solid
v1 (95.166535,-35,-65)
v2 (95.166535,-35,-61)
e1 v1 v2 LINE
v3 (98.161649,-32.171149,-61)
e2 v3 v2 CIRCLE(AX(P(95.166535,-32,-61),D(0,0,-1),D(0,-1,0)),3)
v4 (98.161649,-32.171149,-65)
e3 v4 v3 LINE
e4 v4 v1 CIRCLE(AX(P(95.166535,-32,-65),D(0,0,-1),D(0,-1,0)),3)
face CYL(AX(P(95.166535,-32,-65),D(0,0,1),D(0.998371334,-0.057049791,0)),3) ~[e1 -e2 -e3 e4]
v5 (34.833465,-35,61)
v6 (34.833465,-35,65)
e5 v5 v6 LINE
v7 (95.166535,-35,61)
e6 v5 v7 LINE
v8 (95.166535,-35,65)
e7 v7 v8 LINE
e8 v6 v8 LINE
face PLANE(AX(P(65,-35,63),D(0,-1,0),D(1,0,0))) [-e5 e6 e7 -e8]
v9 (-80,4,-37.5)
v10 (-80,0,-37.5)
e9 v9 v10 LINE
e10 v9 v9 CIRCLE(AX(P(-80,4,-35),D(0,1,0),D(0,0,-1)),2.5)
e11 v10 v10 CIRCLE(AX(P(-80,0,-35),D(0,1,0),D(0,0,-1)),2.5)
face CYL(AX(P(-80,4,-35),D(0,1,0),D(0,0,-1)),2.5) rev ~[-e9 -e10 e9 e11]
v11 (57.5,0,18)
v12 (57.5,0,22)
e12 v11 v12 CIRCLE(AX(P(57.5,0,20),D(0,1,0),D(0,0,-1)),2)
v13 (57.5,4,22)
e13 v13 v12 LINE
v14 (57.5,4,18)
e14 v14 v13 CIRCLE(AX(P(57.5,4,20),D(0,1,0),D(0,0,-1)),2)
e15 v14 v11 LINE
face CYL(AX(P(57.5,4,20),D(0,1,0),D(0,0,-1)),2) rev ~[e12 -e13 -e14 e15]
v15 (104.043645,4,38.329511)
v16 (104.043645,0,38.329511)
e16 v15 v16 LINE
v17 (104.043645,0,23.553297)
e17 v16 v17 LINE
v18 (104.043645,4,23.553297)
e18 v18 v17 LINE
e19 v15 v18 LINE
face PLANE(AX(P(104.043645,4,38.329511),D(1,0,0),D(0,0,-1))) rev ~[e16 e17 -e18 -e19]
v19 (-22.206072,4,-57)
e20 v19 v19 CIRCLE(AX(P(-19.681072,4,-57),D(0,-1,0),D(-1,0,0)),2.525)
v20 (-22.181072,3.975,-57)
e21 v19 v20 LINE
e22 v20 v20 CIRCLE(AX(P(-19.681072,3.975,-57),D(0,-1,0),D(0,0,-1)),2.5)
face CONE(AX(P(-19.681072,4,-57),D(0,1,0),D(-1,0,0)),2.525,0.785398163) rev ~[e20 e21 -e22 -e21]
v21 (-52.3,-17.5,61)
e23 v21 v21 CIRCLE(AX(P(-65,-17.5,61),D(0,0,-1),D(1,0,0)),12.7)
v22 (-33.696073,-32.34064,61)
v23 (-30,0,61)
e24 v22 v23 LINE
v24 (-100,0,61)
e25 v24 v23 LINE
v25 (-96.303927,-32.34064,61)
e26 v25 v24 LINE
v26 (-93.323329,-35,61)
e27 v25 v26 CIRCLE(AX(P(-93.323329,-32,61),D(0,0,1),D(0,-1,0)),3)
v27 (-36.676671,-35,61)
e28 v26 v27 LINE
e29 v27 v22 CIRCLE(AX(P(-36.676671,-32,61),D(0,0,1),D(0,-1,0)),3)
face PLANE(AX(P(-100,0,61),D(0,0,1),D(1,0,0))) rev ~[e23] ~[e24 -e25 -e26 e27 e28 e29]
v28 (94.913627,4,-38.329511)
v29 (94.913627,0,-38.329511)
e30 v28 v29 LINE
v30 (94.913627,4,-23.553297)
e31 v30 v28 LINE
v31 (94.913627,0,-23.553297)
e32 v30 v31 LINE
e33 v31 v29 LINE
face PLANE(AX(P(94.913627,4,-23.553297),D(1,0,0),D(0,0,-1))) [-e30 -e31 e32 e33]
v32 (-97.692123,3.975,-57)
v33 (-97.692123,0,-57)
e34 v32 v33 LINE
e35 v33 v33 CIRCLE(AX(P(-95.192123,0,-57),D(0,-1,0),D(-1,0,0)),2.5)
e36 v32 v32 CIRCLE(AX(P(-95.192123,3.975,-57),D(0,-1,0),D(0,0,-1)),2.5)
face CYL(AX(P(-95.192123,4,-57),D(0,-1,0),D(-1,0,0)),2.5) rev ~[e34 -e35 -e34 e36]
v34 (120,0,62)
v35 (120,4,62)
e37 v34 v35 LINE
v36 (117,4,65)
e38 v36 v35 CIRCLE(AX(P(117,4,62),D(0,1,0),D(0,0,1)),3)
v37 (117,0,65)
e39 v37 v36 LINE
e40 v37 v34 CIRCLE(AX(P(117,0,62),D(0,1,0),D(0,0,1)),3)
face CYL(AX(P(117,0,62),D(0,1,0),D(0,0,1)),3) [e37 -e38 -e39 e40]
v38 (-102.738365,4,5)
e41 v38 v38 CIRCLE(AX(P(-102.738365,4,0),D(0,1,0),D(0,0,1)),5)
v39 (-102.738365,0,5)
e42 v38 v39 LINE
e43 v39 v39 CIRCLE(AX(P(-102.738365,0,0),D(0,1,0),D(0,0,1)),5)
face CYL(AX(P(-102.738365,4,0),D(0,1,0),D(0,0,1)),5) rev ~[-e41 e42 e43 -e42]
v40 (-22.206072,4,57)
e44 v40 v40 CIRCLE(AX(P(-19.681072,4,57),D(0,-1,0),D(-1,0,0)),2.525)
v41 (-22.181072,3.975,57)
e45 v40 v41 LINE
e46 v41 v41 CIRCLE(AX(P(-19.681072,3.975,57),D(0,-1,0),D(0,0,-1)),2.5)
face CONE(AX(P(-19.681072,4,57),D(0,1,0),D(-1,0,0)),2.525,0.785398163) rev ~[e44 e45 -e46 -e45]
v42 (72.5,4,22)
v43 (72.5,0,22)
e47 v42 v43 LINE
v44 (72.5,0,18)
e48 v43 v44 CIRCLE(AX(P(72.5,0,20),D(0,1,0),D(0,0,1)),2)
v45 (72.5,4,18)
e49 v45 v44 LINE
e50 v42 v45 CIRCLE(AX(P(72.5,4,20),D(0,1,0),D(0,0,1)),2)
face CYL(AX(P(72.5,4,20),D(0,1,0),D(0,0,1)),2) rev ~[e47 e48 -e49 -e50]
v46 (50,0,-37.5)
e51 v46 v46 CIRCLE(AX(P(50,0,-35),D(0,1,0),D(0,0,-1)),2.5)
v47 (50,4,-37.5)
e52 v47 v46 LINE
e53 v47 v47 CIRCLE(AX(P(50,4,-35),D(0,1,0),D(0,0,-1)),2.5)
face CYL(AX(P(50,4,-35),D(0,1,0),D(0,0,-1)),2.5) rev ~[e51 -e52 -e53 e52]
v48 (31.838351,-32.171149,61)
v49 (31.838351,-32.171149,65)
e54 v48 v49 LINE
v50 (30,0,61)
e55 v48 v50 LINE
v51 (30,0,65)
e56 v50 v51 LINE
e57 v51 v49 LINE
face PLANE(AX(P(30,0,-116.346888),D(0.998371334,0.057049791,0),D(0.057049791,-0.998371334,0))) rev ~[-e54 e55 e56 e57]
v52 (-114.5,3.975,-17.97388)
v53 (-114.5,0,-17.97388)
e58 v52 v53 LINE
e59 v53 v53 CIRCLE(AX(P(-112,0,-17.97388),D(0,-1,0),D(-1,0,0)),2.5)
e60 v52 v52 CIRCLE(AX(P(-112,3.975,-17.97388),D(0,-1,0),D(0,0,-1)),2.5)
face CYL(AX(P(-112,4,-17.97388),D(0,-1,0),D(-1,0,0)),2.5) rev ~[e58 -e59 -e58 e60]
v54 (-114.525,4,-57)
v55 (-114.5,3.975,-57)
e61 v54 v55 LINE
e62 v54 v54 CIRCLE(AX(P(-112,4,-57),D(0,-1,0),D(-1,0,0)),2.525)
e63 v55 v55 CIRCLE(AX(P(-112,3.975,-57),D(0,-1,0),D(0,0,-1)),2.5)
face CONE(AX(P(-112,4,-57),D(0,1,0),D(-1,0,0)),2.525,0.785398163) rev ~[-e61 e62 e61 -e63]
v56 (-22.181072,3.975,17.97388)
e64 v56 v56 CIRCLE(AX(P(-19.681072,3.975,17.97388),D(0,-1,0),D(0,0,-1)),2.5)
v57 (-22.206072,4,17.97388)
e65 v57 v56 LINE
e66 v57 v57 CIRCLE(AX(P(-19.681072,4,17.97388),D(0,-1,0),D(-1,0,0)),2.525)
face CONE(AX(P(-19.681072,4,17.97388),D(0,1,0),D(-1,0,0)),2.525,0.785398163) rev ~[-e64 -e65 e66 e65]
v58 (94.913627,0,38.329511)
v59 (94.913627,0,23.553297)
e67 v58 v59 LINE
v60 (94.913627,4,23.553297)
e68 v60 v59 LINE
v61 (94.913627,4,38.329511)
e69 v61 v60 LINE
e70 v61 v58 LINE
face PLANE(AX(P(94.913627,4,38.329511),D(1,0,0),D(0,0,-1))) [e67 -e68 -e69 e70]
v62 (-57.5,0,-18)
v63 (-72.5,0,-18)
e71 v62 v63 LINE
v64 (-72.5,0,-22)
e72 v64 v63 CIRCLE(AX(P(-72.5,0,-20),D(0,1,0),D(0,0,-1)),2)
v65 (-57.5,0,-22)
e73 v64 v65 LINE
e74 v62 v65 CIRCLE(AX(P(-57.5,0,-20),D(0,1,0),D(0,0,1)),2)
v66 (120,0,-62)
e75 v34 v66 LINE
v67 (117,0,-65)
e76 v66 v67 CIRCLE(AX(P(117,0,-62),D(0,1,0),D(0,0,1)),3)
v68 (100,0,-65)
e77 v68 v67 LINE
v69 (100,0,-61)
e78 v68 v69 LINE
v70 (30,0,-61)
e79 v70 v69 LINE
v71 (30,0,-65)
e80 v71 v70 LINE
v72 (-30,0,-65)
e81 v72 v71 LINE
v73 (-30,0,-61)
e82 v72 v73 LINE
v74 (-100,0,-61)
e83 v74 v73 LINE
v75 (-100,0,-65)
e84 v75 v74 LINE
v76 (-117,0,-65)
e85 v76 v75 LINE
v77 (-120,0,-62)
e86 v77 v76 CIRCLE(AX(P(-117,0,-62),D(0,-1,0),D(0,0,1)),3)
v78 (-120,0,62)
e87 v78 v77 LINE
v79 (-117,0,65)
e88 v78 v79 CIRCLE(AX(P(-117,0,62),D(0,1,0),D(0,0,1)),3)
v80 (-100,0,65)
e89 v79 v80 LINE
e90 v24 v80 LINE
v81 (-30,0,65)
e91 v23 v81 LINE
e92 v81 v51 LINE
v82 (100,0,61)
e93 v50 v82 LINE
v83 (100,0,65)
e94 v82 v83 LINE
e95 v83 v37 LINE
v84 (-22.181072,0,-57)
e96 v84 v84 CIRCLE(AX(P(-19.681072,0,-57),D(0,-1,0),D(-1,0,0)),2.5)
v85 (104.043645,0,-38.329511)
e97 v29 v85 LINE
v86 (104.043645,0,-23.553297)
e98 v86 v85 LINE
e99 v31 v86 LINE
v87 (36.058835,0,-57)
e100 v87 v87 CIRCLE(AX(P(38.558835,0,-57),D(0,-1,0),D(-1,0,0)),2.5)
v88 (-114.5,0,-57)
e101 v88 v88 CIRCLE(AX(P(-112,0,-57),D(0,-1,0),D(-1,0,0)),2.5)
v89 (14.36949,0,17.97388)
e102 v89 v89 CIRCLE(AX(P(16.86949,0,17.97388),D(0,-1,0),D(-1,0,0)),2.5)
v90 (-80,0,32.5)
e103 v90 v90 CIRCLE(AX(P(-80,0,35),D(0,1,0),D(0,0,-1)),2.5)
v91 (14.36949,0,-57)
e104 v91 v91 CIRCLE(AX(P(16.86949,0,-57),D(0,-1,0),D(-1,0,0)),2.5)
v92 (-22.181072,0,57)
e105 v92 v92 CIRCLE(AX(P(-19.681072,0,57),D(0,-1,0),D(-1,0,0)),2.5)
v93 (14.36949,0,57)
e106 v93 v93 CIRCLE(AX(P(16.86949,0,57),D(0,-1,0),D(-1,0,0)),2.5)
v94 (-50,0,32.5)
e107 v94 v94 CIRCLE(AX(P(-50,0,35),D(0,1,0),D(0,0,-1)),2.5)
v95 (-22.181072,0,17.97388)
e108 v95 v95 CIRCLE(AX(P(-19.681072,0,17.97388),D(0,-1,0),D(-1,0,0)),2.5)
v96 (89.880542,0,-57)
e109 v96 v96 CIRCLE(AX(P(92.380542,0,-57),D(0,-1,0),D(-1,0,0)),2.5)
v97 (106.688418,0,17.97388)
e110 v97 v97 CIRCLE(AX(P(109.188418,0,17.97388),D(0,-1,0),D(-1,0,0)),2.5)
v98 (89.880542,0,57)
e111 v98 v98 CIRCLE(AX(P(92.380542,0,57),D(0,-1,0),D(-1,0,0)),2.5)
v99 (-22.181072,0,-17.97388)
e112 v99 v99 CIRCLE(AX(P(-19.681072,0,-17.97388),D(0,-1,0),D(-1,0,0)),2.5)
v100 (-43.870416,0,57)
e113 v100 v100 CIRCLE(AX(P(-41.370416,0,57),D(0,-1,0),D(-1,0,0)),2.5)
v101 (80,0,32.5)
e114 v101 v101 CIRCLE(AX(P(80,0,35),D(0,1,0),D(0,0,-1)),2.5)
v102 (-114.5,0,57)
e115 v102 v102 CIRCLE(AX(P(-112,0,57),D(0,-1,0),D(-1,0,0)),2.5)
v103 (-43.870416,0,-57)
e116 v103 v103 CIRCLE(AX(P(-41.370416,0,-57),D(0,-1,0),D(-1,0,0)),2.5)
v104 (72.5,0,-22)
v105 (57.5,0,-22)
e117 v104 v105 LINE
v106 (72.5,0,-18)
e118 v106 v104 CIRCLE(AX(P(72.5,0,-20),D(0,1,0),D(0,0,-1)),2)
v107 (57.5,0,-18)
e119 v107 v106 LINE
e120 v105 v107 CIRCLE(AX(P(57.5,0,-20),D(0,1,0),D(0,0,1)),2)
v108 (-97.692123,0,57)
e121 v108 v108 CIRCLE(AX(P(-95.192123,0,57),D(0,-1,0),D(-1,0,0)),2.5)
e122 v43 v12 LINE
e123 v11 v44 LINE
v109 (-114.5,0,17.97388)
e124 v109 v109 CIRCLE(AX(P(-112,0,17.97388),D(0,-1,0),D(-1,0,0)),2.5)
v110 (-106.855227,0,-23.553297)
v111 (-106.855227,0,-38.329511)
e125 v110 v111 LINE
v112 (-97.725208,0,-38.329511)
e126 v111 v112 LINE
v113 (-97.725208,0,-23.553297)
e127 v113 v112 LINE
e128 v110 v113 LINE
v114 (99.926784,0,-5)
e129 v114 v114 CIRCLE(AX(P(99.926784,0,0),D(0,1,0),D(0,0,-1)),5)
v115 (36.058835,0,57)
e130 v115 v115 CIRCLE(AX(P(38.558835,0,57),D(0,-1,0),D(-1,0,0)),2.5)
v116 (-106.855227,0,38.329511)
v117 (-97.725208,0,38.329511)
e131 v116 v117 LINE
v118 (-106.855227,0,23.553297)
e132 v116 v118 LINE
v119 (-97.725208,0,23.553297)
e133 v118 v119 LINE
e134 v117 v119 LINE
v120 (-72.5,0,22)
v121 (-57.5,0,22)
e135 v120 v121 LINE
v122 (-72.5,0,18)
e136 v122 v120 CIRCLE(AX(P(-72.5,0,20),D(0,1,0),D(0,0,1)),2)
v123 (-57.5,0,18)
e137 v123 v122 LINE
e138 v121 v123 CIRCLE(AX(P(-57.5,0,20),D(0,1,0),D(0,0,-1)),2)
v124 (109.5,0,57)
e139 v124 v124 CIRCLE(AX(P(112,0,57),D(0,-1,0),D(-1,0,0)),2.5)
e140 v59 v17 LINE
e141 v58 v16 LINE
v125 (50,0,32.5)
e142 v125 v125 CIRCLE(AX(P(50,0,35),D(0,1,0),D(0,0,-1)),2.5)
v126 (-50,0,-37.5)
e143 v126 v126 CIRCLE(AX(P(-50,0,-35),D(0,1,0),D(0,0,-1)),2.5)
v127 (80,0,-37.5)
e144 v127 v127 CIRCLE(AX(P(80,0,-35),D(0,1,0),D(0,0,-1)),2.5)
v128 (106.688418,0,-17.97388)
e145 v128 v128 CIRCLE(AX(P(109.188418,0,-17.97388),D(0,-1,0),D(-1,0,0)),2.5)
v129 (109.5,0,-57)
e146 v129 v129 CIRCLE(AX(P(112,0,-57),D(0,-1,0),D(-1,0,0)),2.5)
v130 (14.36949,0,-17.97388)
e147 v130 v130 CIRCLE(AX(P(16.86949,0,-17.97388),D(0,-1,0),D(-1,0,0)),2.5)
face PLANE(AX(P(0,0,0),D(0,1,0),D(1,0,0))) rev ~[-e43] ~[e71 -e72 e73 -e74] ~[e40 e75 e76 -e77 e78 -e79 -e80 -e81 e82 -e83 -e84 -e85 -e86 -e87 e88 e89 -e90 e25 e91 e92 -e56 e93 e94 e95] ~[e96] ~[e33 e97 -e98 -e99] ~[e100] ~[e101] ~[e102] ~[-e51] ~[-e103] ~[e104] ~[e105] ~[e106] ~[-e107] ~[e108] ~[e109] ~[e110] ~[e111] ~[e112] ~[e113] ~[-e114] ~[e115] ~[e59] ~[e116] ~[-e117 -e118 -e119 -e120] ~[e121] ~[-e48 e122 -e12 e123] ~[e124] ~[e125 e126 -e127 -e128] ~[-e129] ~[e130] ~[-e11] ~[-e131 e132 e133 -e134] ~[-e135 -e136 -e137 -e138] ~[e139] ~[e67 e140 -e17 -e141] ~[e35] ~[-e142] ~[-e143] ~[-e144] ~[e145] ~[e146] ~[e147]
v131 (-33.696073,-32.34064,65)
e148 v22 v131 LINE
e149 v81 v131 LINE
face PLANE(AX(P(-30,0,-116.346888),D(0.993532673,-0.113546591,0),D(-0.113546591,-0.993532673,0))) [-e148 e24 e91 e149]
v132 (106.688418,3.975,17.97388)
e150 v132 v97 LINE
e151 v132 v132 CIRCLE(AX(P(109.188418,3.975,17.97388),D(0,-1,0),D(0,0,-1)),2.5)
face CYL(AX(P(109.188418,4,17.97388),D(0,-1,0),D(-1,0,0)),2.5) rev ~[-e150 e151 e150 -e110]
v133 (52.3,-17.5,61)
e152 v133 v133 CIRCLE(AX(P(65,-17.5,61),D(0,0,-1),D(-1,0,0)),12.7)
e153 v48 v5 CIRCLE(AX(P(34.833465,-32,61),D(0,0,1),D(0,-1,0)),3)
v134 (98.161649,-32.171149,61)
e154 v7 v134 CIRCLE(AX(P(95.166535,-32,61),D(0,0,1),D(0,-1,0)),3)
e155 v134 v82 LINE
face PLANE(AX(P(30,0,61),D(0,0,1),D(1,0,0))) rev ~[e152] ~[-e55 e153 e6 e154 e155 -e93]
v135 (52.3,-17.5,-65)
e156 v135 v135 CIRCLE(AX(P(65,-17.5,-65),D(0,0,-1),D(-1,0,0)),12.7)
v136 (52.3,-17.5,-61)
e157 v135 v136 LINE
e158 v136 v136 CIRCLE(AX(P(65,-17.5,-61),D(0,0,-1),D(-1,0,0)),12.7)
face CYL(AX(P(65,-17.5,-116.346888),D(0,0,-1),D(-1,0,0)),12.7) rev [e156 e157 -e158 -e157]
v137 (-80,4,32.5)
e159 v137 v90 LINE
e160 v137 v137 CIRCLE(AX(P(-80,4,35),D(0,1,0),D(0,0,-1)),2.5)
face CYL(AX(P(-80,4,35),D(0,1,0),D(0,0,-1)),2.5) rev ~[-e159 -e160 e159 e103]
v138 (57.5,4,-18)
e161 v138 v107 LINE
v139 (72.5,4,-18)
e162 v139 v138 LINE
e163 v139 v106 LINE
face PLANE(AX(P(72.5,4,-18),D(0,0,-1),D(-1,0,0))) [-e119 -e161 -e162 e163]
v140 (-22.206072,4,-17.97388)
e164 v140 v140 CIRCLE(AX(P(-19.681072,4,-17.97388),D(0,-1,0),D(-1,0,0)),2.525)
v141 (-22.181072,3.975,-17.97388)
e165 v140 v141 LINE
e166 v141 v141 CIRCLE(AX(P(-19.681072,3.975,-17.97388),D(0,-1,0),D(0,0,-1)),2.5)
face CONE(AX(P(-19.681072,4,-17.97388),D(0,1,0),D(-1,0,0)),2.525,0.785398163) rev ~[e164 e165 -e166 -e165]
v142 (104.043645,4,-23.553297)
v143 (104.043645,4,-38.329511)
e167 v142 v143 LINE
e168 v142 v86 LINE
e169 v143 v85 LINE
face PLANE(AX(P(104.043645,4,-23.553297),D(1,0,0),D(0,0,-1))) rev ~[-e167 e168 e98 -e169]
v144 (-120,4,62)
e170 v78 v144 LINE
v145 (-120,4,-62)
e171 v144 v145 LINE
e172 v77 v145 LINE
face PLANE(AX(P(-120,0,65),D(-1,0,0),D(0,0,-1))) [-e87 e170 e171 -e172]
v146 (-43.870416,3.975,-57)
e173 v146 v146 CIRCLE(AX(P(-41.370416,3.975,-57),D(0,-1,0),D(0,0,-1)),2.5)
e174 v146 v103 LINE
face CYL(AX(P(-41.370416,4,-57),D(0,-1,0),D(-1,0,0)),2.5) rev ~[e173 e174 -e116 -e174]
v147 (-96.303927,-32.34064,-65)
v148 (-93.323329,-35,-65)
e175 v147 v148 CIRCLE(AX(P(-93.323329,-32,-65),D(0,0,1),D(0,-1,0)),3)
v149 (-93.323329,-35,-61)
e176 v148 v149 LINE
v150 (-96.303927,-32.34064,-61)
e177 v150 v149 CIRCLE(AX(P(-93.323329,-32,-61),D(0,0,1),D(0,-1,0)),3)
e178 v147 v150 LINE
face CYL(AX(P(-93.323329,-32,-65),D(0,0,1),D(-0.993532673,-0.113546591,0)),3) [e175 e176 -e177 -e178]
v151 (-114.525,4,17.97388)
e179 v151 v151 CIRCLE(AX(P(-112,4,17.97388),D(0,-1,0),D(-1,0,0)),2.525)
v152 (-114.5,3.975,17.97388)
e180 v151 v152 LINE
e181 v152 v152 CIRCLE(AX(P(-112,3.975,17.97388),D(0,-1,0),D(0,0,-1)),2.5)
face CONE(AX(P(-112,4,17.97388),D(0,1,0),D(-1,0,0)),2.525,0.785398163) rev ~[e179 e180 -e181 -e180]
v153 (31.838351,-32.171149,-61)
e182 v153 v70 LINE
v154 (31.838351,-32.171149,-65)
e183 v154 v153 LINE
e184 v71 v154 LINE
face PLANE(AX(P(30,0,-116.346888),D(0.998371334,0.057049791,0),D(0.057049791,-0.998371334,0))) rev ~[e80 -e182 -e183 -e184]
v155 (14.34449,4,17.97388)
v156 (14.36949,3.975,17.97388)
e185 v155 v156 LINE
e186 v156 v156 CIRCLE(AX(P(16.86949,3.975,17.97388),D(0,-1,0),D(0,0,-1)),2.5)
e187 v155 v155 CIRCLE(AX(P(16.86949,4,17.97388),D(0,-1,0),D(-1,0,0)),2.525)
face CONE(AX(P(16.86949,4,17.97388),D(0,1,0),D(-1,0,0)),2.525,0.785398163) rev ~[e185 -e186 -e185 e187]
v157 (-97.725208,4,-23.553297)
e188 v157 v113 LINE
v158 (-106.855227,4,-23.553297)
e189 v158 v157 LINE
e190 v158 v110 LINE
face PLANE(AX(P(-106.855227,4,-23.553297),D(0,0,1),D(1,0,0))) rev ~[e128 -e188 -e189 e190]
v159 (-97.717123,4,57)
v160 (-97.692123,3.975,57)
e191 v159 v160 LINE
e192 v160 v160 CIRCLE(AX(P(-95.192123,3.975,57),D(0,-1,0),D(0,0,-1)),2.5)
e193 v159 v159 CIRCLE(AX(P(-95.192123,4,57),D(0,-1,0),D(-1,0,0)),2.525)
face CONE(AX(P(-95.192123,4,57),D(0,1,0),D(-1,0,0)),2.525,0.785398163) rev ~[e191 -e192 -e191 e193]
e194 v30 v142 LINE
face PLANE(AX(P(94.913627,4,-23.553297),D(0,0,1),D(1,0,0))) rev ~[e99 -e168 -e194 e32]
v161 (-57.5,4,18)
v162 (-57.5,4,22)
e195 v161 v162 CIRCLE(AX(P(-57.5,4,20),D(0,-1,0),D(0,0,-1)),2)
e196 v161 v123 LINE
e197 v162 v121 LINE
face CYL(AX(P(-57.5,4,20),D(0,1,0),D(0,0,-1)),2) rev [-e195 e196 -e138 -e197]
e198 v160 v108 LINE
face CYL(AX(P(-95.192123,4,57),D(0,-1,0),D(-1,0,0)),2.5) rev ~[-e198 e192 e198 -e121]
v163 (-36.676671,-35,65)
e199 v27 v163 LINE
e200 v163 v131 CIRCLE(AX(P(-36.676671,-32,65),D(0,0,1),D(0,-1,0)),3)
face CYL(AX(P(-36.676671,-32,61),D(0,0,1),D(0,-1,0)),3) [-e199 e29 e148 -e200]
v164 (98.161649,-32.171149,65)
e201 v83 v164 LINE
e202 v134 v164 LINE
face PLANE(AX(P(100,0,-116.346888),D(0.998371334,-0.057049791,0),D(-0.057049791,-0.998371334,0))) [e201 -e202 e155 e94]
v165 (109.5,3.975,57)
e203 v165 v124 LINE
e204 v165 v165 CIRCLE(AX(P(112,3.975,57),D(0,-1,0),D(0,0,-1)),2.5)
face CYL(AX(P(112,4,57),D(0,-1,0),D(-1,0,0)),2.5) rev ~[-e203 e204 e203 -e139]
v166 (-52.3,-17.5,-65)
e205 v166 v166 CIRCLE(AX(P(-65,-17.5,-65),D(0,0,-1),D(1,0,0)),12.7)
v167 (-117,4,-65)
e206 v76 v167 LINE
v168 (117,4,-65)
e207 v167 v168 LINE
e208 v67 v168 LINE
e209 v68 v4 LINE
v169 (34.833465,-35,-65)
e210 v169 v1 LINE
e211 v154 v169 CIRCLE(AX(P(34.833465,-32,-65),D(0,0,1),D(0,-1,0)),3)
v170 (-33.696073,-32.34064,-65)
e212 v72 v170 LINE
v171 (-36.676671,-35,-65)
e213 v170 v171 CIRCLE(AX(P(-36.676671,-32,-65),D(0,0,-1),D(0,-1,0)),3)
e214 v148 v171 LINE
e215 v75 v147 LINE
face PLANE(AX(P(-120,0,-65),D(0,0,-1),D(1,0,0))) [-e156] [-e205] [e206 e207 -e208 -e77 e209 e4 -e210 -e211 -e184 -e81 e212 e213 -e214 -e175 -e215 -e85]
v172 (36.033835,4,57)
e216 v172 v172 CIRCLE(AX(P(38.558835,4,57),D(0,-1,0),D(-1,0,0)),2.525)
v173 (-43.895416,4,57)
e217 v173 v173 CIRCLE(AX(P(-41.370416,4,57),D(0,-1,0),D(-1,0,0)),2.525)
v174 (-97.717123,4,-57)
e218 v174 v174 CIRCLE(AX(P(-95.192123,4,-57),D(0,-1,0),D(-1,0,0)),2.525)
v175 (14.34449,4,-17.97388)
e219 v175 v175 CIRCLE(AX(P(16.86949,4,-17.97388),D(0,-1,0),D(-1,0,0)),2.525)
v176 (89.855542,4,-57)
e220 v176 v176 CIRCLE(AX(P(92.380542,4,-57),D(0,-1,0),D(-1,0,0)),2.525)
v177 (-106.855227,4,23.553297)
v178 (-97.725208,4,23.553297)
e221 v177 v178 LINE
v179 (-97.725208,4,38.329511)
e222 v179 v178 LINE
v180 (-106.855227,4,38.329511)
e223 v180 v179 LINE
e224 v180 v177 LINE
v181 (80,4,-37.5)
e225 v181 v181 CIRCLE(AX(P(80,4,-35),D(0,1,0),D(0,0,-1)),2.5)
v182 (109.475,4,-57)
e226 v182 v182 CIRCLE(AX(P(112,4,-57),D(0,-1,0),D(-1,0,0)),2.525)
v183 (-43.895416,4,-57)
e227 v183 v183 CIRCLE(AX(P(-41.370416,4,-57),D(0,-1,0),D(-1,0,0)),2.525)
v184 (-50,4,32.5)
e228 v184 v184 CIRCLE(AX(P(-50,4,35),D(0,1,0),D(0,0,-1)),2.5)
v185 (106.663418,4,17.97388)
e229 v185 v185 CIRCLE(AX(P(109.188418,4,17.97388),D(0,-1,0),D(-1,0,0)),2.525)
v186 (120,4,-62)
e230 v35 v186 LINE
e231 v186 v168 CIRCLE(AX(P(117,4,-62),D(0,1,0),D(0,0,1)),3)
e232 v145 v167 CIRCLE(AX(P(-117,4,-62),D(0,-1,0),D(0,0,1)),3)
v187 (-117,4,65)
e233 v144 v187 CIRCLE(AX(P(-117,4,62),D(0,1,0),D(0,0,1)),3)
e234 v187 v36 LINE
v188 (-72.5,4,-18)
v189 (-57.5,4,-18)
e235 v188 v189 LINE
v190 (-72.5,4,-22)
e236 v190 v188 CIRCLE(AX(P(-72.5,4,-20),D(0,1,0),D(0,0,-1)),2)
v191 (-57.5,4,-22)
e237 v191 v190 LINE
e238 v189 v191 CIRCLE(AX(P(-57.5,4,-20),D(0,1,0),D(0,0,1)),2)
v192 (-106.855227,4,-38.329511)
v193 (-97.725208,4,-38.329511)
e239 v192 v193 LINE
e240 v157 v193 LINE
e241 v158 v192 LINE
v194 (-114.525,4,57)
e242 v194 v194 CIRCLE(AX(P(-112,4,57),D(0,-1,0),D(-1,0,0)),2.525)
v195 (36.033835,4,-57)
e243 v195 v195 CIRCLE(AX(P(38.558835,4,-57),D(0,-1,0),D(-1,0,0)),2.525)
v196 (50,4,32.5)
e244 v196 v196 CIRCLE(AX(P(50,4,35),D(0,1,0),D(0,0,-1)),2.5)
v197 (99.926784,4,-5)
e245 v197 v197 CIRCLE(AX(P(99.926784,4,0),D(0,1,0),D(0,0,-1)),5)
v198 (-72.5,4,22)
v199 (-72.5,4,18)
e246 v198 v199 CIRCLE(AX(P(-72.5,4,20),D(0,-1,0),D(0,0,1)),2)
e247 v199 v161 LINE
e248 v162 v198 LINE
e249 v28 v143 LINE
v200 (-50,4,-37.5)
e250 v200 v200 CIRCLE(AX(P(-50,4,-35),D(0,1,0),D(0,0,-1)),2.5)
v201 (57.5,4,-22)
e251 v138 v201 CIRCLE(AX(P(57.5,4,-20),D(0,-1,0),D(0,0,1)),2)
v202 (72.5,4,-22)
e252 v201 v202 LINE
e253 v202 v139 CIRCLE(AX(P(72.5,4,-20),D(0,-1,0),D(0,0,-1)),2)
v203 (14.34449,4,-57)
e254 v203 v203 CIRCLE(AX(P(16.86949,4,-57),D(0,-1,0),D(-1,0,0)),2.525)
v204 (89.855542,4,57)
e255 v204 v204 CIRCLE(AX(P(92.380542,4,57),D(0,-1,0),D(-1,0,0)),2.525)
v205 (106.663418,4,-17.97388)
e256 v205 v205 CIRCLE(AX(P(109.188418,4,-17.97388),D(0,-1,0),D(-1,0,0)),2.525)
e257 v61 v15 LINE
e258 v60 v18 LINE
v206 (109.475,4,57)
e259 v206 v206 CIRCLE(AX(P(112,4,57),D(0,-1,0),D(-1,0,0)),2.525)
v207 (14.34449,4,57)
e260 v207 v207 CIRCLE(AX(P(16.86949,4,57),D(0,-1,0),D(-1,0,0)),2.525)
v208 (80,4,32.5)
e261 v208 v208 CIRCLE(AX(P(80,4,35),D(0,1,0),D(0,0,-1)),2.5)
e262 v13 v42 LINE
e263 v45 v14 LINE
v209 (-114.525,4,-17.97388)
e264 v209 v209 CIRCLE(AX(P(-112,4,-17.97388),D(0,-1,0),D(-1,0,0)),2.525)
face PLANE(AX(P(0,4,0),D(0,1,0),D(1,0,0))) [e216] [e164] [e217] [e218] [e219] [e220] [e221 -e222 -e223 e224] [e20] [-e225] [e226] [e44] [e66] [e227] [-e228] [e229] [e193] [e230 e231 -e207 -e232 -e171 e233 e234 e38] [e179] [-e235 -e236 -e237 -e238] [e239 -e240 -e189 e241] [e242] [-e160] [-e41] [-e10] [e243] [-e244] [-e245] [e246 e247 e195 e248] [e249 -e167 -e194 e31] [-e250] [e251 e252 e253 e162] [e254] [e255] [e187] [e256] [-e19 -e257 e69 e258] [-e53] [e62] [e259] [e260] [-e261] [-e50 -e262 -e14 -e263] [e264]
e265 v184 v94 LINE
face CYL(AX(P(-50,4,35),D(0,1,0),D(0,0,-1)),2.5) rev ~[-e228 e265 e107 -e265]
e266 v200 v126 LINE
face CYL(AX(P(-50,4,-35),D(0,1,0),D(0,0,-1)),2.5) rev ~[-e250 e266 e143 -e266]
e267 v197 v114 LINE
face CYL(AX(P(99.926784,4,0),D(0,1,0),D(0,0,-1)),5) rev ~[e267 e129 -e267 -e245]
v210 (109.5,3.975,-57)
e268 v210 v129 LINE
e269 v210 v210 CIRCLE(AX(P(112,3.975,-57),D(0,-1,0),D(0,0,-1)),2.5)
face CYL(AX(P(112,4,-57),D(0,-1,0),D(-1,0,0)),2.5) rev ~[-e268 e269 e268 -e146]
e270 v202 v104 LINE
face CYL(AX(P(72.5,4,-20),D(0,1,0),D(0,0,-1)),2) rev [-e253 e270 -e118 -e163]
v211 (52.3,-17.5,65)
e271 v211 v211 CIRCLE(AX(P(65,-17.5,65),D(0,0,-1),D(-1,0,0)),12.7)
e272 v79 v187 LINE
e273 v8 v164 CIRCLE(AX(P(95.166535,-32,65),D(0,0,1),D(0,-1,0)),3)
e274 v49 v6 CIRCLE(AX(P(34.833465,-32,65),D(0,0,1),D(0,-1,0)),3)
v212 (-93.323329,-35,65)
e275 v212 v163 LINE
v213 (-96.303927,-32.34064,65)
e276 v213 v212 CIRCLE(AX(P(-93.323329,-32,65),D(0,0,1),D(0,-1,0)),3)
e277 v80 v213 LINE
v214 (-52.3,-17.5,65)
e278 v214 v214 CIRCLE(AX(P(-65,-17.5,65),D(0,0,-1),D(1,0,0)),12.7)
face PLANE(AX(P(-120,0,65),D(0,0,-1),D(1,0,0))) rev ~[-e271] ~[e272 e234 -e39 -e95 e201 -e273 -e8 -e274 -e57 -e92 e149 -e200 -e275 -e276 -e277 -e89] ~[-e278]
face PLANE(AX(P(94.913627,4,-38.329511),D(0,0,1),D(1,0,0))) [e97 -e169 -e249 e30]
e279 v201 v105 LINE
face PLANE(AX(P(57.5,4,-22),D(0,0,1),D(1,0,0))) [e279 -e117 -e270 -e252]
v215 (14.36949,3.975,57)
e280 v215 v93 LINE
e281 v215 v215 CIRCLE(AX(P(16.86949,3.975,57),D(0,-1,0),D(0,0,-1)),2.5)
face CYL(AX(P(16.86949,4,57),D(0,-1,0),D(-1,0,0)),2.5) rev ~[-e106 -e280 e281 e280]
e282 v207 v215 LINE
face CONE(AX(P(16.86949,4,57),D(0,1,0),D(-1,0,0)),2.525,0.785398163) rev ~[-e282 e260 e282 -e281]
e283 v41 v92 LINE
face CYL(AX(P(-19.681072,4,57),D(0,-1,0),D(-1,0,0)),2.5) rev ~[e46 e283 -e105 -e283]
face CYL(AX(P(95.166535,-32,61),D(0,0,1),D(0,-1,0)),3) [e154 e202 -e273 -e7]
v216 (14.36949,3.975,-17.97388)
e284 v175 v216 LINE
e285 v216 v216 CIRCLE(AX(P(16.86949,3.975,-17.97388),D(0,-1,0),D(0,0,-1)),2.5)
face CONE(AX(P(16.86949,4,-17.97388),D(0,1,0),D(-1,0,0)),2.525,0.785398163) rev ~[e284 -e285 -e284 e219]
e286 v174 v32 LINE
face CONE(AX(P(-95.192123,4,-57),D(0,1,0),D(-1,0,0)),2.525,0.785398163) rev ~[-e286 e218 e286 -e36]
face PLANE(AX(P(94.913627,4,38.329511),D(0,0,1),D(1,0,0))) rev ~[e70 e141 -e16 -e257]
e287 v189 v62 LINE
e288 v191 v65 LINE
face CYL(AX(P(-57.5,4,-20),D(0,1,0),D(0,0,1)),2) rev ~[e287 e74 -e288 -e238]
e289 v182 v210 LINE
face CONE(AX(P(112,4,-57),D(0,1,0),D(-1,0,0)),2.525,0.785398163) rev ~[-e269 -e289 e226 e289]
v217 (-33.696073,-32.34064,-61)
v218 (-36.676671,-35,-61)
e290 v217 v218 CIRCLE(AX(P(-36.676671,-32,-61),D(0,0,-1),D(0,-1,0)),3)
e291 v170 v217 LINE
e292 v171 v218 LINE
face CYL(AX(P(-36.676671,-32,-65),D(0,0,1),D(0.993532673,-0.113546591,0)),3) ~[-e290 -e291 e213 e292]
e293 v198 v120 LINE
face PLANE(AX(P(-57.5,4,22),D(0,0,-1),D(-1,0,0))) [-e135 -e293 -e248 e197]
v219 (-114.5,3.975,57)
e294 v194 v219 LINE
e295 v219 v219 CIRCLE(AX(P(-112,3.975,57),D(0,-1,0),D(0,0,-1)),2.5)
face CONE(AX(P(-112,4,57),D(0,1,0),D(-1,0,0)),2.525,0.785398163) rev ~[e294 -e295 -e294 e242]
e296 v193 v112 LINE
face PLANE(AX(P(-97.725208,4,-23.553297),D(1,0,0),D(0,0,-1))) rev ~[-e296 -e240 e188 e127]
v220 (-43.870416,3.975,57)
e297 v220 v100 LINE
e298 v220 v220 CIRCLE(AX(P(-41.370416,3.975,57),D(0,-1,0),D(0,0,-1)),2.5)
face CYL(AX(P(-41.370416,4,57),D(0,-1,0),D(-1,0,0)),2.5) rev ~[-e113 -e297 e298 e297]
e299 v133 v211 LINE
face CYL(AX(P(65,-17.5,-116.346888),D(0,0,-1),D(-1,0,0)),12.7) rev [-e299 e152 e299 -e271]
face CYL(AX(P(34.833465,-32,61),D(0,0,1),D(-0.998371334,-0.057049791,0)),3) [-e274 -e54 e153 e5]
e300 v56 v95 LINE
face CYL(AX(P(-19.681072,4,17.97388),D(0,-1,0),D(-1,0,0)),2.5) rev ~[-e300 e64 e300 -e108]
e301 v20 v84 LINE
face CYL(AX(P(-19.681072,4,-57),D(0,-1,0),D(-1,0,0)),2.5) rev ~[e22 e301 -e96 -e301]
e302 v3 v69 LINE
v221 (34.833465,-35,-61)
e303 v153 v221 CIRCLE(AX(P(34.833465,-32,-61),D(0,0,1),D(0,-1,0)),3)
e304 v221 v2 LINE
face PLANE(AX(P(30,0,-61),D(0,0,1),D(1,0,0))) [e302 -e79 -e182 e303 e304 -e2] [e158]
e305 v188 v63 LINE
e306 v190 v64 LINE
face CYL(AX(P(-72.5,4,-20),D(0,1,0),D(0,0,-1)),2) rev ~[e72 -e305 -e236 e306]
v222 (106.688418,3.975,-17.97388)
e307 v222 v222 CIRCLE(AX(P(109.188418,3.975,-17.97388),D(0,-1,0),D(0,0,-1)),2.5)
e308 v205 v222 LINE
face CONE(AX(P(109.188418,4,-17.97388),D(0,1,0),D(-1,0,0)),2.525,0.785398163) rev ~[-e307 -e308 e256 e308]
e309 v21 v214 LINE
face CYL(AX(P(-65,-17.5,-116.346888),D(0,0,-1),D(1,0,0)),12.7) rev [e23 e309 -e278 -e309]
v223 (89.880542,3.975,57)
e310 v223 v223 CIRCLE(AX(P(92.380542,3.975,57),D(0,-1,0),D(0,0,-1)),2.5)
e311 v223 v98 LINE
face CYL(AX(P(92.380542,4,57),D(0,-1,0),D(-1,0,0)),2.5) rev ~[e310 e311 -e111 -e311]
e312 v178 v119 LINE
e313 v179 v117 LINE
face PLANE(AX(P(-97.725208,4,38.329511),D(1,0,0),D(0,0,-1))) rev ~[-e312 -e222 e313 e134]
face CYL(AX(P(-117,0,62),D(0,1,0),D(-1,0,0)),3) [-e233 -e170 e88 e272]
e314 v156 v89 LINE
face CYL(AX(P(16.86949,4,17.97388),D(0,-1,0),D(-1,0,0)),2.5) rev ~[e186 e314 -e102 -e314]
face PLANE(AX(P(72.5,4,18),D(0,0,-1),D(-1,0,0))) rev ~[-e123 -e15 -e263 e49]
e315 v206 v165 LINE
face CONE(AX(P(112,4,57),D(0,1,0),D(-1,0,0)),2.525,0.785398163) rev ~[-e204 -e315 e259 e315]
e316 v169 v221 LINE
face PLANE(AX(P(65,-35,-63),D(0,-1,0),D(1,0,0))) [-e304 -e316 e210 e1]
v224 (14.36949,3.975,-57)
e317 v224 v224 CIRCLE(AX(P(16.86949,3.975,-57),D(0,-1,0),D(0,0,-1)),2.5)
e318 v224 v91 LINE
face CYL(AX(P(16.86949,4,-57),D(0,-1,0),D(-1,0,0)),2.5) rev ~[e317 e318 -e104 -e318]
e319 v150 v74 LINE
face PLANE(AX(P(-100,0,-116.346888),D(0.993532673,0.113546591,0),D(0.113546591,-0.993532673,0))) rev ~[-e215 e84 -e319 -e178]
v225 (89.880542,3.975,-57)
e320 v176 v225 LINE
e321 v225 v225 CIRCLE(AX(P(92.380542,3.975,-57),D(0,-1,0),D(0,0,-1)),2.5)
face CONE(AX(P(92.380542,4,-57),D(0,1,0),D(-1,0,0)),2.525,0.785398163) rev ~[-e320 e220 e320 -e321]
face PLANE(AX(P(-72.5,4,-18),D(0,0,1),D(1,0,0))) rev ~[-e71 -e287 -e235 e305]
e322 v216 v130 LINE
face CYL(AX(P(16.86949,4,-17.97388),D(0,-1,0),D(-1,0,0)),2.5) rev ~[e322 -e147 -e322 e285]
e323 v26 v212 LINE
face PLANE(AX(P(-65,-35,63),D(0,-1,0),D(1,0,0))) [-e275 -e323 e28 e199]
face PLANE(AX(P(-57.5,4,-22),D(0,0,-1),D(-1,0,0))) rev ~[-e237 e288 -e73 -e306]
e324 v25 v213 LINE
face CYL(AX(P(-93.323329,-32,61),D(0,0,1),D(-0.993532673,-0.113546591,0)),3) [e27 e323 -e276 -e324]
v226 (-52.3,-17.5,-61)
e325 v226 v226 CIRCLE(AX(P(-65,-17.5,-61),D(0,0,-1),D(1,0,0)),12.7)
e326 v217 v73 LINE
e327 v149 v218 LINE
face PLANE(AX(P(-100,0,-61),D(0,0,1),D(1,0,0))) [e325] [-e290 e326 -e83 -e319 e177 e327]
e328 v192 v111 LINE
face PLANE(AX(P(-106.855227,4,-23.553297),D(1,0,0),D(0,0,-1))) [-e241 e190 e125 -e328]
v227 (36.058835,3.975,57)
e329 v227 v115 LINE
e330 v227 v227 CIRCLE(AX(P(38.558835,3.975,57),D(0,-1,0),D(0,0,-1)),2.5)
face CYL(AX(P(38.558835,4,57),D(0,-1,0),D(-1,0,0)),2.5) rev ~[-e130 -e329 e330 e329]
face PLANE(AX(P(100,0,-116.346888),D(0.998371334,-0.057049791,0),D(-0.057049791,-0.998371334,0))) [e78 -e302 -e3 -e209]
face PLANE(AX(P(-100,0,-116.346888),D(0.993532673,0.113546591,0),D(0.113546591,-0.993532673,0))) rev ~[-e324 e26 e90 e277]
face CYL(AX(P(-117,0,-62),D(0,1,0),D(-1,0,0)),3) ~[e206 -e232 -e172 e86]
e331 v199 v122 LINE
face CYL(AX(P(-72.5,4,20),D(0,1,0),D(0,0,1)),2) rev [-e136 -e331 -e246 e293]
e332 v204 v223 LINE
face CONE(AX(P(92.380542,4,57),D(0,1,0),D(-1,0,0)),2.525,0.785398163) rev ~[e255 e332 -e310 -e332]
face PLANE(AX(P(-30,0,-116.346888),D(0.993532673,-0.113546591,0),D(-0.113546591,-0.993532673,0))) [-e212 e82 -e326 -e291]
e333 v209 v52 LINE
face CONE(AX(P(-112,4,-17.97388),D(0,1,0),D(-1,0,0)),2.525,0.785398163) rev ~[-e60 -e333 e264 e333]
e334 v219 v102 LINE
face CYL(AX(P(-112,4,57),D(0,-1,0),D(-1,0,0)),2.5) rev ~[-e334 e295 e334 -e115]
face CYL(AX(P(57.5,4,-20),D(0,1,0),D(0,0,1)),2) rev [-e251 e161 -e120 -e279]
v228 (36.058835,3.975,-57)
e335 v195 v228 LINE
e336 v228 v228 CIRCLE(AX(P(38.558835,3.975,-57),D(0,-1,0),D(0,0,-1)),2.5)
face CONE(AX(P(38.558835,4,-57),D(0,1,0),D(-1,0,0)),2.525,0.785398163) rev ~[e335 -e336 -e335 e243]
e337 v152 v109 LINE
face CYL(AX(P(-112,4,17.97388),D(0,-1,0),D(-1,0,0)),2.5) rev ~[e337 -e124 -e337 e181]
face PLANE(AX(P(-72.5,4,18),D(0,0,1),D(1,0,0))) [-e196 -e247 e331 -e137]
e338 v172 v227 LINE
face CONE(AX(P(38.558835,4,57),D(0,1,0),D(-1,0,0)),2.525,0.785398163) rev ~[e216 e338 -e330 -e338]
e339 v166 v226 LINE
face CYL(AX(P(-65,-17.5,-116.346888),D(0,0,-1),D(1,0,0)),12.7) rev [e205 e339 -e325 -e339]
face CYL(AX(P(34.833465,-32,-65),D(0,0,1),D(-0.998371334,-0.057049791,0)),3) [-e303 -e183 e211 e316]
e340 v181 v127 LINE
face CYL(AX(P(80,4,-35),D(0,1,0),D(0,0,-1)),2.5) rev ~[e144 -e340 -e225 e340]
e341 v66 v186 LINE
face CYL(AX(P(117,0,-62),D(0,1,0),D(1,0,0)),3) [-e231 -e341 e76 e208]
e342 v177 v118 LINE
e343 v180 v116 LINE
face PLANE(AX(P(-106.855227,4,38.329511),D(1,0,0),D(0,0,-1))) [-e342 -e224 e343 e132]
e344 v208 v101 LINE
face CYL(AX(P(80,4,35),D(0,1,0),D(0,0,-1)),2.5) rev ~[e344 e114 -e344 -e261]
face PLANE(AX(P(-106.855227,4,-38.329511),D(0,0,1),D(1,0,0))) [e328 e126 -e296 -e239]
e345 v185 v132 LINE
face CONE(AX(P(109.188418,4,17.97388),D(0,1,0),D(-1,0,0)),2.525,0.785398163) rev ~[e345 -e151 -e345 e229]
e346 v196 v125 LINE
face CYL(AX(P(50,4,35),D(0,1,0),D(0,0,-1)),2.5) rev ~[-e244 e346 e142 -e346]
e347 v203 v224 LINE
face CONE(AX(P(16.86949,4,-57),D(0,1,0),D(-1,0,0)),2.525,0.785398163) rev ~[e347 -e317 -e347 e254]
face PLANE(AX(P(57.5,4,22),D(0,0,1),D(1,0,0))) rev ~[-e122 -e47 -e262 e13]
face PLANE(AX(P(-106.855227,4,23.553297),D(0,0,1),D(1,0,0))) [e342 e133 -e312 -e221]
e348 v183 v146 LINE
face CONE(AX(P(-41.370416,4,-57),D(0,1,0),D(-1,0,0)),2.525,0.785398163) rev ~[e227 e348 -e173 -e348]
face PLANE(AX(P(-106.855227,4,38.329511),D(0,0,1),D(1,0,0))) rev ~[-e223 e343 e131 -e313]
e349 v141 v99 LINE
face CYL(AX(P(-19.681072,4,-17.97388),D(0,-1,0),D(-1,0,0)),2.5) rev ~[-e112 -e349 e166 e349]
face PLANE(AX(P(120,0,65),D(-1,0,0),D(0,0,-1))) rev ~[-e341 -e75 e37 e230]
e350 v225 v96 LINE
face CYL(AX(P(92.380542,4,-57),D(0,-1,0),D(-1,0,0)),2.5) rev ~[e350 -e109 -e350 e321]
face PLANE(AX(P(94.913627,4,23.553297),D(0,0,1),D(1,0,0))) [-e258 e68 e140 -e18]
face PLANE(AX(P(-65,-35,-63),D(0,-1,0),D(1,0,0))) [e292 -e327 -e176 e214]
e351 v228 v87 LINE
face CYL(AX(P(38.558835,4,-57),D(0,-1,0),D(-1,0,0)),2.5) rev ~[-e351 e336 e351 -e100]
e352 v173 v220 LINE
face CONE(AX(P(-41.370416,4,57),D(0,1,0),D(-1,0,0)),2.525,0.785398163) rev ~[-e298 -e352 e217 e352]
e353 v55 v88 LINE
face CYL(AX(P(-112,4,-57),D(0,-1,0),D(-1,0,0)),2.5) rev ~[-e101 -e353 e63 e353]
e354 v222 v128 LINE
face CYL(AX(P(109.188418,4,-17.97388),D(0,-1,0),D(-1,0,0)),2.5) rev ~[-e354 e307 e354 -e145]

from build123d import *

# Parameters (mm, degrees)
SKETCH_2_W                      = 240
SKETCH_2_H                      = 130
EXTRUDE_1_DEPTH                 = 4
FILLET_1_R                      = 3
SKETCH_4_W                      = 70
SKETCH_4_H                      = 4
EXTRUDE_3_DEPTH                 = 35
CUT_EXTRUDE_1_DEPTH             = 181.346887969
CUT_EXTRUDE_1_DEPTH_BACK        = 181.346887969
CUT_EXTRUDE_2_DEPTH             = 181.346887969
CUT_EXTRUDE_2_DEPTH_BACK        = 181.346887969
FILLET_2_R                      = 3
FILLET_3_R                      = 3
CUT_EXTRUDE_3_DEPTH             = 181.346887969
CUT_EXTRUDE_3_DEPTH_BACK        = 181.346887969
SKETCH_10_R                     = 12.7
CUT_EXTRUDE_4_REACH             = 143.937
SKETCH_11_R                     = 2.5
CUT_EXTRUDE_4_DIRECTION_2_DEPTH = 142.936605567
HOLE_WIZARD_5_0_5_4_D           = 5
HOLE_WIZARD_5_0_5_4_CSINK_D     = 5.05
HOLE_WIZARD_5_0_5_4_CSINK_ANGLE = 90
HOLE_WIZARD_5_0_5_5_D           = 5
HOLE_WIZARD_5_0_5_5_CSINK_D     = 5.05
HOLE_WIZARD_5_0_5_5_CSINK_ANGLE = 90
SKETCH_26_W                     = 9.130018581
SKETCH_26_H                     = 14.776214284
CUT_EXTRUDE_5_DEPTH             = 10
SKETCH_22_R                     = 5
CUT_EXTRUDE_6_DEPTH             = 10


with BuildPart() as part:
    # 草图2 → 凸台-拉伸1 (new body)
    with BuildSketch(Plane(origin=(0, 0, 0), x_dir=(1, 0, 0), z_dir=(0, 1, 0))):
        Rectangle(SKETCH_2_W, SKETCH_2_H)
    extrude(amount=EXTRUDE_1_DEPTH)

    # 圆角1
    fillet_1_edges = [part.edges().sort_by_distance(p)[0] for p in [
        (120, 2, 65),
        (-120, 2, 65),
        (-120, 2, -65),
        (120, 2, -65),
    ]]
    fillet(fillet_1_edges, radius=FILLET_1_R)

    # 草图4 → 凸台-拉伸3 (add)
    with BuildSketch(Plane.XZ):
        with Locations((65, 63)):
            Rectangle(SKETCH_4_W, SKETCH_4_H)
        with Locations((-65, 63)):
            Rectangle(SKETCH_4_W, SKETCH_4_H)
        with Locations((65, -63)):
            Rectangle(SKETCH_4_W, SKETCH_4_H)
        with Locations((-65, -63)):
            Rectangle(SKETCH_4_W, SKETCH_4_H)
    extrude(amount=EXTRUDE_3_DEPTH)

    # 草图7 → 切除-拉伸1 (cut, two sides: drawn at the far end of the back side and taken through both)
    with BuildSketch(Plane.XY.offset(65).offset(-CUT_EXTRUDE_1_DEPTH_BACK)):
        Polygon((-100, 0), (-96, -35), (-100, -35), align=None)
        Polygon((-30, 0), (-34, -35), (-30, -35), align=None)
    extrude(amount=CUT_EXTRUDE_1_DEPTH + CUT_EXTRUDE_1_DEPTH_BACK, mode=Mode.SUBTRACT)

    # 草图9 → 切除-拉伸2 (cut, two sides: drawn at the far end of the back side and taken through both)
    with BuildSketch(Plane.XY.offset(65).offset(-CUT_EXTRUDE_2_DEPTH_BACK)):
        Polygon((30, 0), (32, -35), (30, -35), align=None)
        Polygon((98, -35), (100, -35), (100, 0), align=None)
    extrude(amount=CUT_EXTRUDE_2_DEPTH + CUT_EXTRUDE_2_DEPTH_BACK, mode=Mode.SUBTRACT)

    # 圆角2
    fillet_2_edges = [part.edges().sort_by_distance(p)[0] for p in [
        (-96, -35, 63),
    ]]
    fillet(fillet_2_edges, radius=FILLET_2_R)

    # 圆角3
    fillet_3_edges = [part.edges().sort_by_distance(p)[0] for p in [
        (98, -35, -63),
        (32, -35, -63),
        (98, -35, 63),
        (32, -35, 63),
        (-34, -35, -63),
        (-96, -35, -63),
        (-34, -35, 63),
    ]]
    fillet(fillet_3_edges, radius=FILLET_3_R)

    # 草图10 → 切除-拉伸3 (cut, two sides: drawn at the far end of the back side and taken through both)
    with BuildSketch(Plane.XY.offset(65).offset(-CUT_EXTRUDE_3_DEPTH_BACK)):
        with Locations((-65, -17.5)):
            Circle(SKETCH_10_R)
        with Locations(Location((65, -17.5, 0), (0, 0, 180))):
            Circle(SKETCH_10_R)
    extrude(amount=CUT_EXTRUDE_3_DEPTH + CUT_EXTRUDE_3_DEPTH_BACK, mode=Mode.SUBTRACT)

    # 草图11 → 切除-拉伸4 (cut, up to next)
    with BuildSketch(Plane(origin=(0, 4, 0), x_dir=(1, 0, 0), z_dir=(0, 1, 0)), mode=Mode.PRIVATE) as cut_extrude_4_sk1:
        with Locations(Location((-80, -35, 0), (0, 0, 90))):
            Circle(SKETCH_11_R)
    cut_extrude_4_tool1 = extrude(cut_extrude_4_sk1.sketch, amount=-CUT_EXTRUDE_4_REACH, mode=Mode.PRIVATE) & part.part
    # 草图11 → 切除-拉伸4 (cut, up to next)
    with BuildSketch(Plane(origin=(0, 4, 0), x_dir=(1, 0, 0), z_dir=(0, 1, 0)), mode=Mode.PRIVATE) as cut_extrude_4_sk2:
        with Locations(Location((-50, -35, 0), (0, 0, 90))):
            Circle(SKETCH_11_R)
    cut_extrude_4_tool2 = extrude(cut_extrude_4_sk2.sketch, amount=-CUT_EXTRUDE_4_REACH, mode=Mode.PRIVATE) & part.part
    # 草图11 → 切除-拉伸4 (cut, up to next)
    with BuildSketch(Plane(origin=(0, 4, 0), x_dir=(1, 0, 0), z_dir=(0, 1, 0)), mode=Mode.PRIVATE) as cut_extrude_4_sk3:
        with Locations(Location((-50, 35, 0), (0, 0, 90))):
            Circle(SKETCH_11_R)
    cut_extrude_4_tool3 = extrude(cut_extrude_4_sk3.sketch, amount=-CUT_EXTRUDE_4_REACH, mode=Mode.PRIVATE) & part.part
    # 草图11 → 切除-拉伸4 (cut, up to next)
    with BuildSketch(Plane(origin=(0, 4, 0), x_dir=(1, 0, 0), z_dir=(0, 1, 0)), mode=Mode.PRIVATE) as cut_extrude_4_sk4:
        with Locations(Location((-80, 35, 0), (0, 0, 90))):
            Circle(SKETCH_11_R)
    cut_extrude_4_tool4 = extrude(cut_extrude_4_sk4.sketch, amount=-CUT_EXTRUDE_4_REACH, mode=Mode.PRIVATE) & part.part
    # 草图11 → 切除-拉伸4 (cut, up to next)
    with BuildSketch(Plane(origin=(0, 4, 0), x_dir=(1, 0, 0), z_dir=(0, 1, 0)), mode=Mode.PRIVATE) as cut_extrude_4_sk5:
        with Locations(Location((50, -35, 0), (0, 0, 90))):
            Circle(SKETCH_11_R)
    cut_extrude_4_tool5 = extrude(cut_extrude_4_sk5.sketch, amount=-CUT_EXTRUDE_4_REACH, mode=Mode.PRIVATE) & part.part
    # 草图11 → 切除-拉伸4 (cut, up to next)
    with BuildSketch(Plane(origin=(0, 4, 0), x_dir=(1, 0, 0), z_dir=(0, 1, 0)), mode=Mode.PRIVATE) as cut_extrude_4_sk6:
        with Locations(Location((50, 35, 0), (0, 0, 90))):
            Circle(SKETCH_11_R)
    cut_extrude_4_tool6 = extrude(cut_extrude_4_sk6.sketch, amount=-CUT_EXTRUDE_4_REACH, mode=Mode.PRIVATE) & part.part
    # 草图11 → 切除-拉伸4 (cut, up to next)
    with BuildSketch(Plane(origin=(0, 4, 0), x_dir=(1, 0, 0), z_dir=(0, 1, 0)), mode=Mode.PRIVATE) as cut_extrude_4_sk7:
        with Locations(Location((80, -35, 0), (0, 0, 90))):
            Circle(SKETCH_11_R)
    cut_extrude_4_tool7 = extrude(cut_extrude_4_sk7.sketch, amount=-CUT_EXTRUDE_4_REACH, mode=Mode.PRIVATE) & part.part
    # 草图11 → 切除-拉伸4 (cut, up to next)
    with BuildSketch(Plane(origin=(0, 4, 0), x_dir=(1, 0, 0), z_dir=(0, 1, 0)), mode=Mode.PRIVATE) as cut_extrude_4_sk8:
        with Locations(Location((80, 35, 0), (0, 0, 90))):
            Circle(SKETCH_11_R)
    cut_extrude_4_tool8 = extrude(cut_extrude_4_sk8.sketch, amount=-CUT_EXTRUDE_4_REACH, mode=Mode.PRIVATE) & part.part
    # 草图11 → 切除-拉伸4 (cut, up to next)
    with BuildSketch(Plane(origin=(0, 4, 0), x_dir=(1, 0, 0), z_dir=(0, 1, 0)), mode=Mode.PRIVATE) as cut_extrude_4_sk9:
        with BuildLine():
            Line((-72.5, -18), (-57.5, -18))
            ThreePointArc((-57.5, -18), (-55.5, -20), (-57.5, -22))
            Line((-57.5, -22), (-72.5, -22))
            ThreePointArc((-72.5, -22), (-74.5, -20), (-72.5, -18))
        make_face()
    cut_extrude_4_tool9 = extrude(cut_extrude_4_sk9.sketch, amount=-CUT_EXTRUDE_4_REACH, mode=Mode.PRIVATE) & part.part
    # 草图11 → 切除-拉伸4 (cut, up to next)
    with BuildSketch(Plane(origin=(0, 4, 0), x_dir=(1, 0, 0), z_dir=(0, 1, 0)), mode=Mode.PRIVATE) as cut_extrude_4_sk10:
        with BuildLine():
            Line((-72.5, 18), (-57.5, 18))
            ThreePointArc((-57.5, 18), (-55.5, 20), (-57.5, 22))
            Line((-57.5, 22), (-72.5, 22))
            ThreePointArc((-72.5, 22), (-74.5, 20), (-72.5, 18))
        make_face()
    cut_extrude_4_tool10 = extrude(cut_extrude_4_sk10.sketch, amount=-CUT_EXTRUDE_4_REACH, mode=Mode.PRIVATE) & part.part
    # 草图11 → 切除-拉伸4 (cut, up to next)
    with BuildSketch(Plane(origin=(0, 4, 0), x_dir=(1, 0, 0), z_dir=(0, 1, 0)), mode=Mode.PRIVATE) as cut_extrude_4_sk11:
        with BuildLine():
            Line((72.5, -18), (57.5, -18))
            ThreePointArc((57.5, -18), (55.5, -20), (57.5, -22))
            Line((57.5, -22), (72.5, -22))
            ThreePointArc((72.5, -22), (74.5, -20), (72.5, -18))
        make_face()
    cut_extrude_4_tool11 = extrude(cut_extrude_4_sk11.sketch, amount=-CUT_EXTRUDE_4_REACH, mode=Mode.PRIVATE) & part.part
    # 草图11 → 切除-拉伸4 (cut, up to next)
    with BuildSketch(Plane(origin=(0, 4, 0), x_dir=(1, 0, 0), z_dir=(0, 1, 0)), mode=Mode.PRIVATE) as cut_extrude_4_sk12:
        with BuildLine():
            Line((72.5, 18), (57.5, 18))
            ThreePointArc((57.5, 18), (55.5, 20), (57.5, 22))
            Line((57.5, 22), (72.5, 22))
            ThreePointArc((72.5, 22), (74.5, 20), (72.5, 18))
        make_face()
    cut_extrude_4_tool12 = extrude(cut_extrude_4_sk12.sketch, amount=-CUT_EXTRUDE_4_REACH, mode=Mode.PRIVATE) & part.part
    add(cut_extrude_4_tool1.solids().sort_by_distance((-80, 4, 35))[0], mode=Mode.SUBTRACT)
    add(cut_extrude_4_tool2.solids().sort_by_distance((-50, 4, 35))[0], mode=Mode.SUBTRACT)
    add(cut_extrude_4_tool3.solids().sort_by_distance((-50, 4, -35))[0], mode=Mode.SUBTRACT)
    add(cut_extrude_4_tool4.solids().sort_by_distance((-80, 4, -35))[0], mode=Mode.SUBTRACT)
    add(cut_extrude_4_tool5.solids().sort_by_distance((50, 4, 35))[0], mode=Mode.SUBTRACT)
    add(cut_extrude_4_tool6.solids().sort_by_distance((50, 4, -35))[0], mode=Mode.SUBTRACT)
    add(cut_extrude_4_tool7.solids().sort_by_distance((80, 4, 35))[0], mode=Mode.SUBTRACT)
    add(cut_extrude_4_tool8.solids().sort_by_distance((80, 4, -35))[0], mode=Mode.SUBTRACT)
    add(cut_extrude_4_tool9.solids().sort_by_distance((-65, 4, 20))[0], mode=Mode.SUBTRACT)
    add(cut_extrude_4_tool10.solids().sort_by_distance((-65, 4, -20))[0], mode=Mode.SUBTRACT)
    add(cut_extrude_4_tool11.solids().sort_by_distance((65, 4, 20))[0], mode=Mode.SUBTRACT)
    add(cut_extrude_4_tool12.solids().sort_by_distance((65, 4, -20))[0], mode=Mode.SUBTRACT)

    # 草图11 → 切除-拉伸4 direction 2 (cut)
    with BuildSketch(Plane(origin=(0, 4, 0), x_dir=(1, 0, 0), z_dir=(0, 1, 0))):
        with Locations(Location((-80, -35, 0), (0, 0, 90))):
            Circle(SKETCH_11_R)
        with Locations(Location((-50, -35, 0), (0, 0, 90))):
            Circle(SKETCH_11_R)
        with Locations(Location((-50, 35, 0), (0, 0, 90))):
            Circle(SKETCH_11_R)
        with Locations(Location((-80, 35, 0), (0, 0, 90))):
            Circle(SKETCH_11_R)
        with Locations(Location((50, -35, 0), (0, 0, 90))):
            Circle(SKETCH_11_R)
        with Locations(Location((50, 35, 0), (0, 0, 90))):
            Circle(SKETCH_11_R)
        with Locations(Location((80, -35, 0), (0, 0, 90))):
            Circle(SKETCH_11_R)
        with Locations(Location((80, 35, 0), (0, 0, 90))):
            Circle(SKETCH_11_R)
        with BuildLine():
            Line((-72.5, -18), (-57.5, -18))
            ThreePointArc((-57.5, -18), (-55.5, -20), (-57.5, -22))
            Line((-57.5, -22), (-72.5, -22))
            ThreePointArc((-72.5, -22), (-74.5, -20), (-72.5, -18))
        make_face()
        with BuildLine():
            Line((-72.5, 18), (-57.5, 18))
            ThreePointArc((-57.5, 18), (-55.5, 20), (-57.5, 22))
            Line((-57.5, 22), (-72.5, 22))
            ThreePointArc((-72.5, 22), (-74.5, 20), (-72.5, 18))
        make_face()
        with BuildLine():
            Line((72.5, -18), (57.5, -18))
            ThreePointArc((57.5, -18), (55.5, -20), (57.5, -22))
            Line((57.5, -22), (72.5, -22))
            ThreePointArc((72.5, -22), (74.5, -20), (72.5, -18))
        make_face()
        with BuildLine():
            Line((72.5, 18), (57.5, 18))
            ThreePointArc((57.5, 18), (55.5, 20), (57.5, 22))
            Line((57.5, 22), (72.5, 22))
            ThreePointArc((72.5, 22), (74.5, 20), (72.5, 18))
        make_face()
    extrude(amount=CUT_EXTRUDE_4_DIRECTION_2_DEPTH, mode=Mode.SUBTRACT)

    # Ø5.0 (5) 直径孔4 (through all)
    with Locations(Plane(origin=(0, 4, 0), x_dir=(1, 0, 0), z_dir=(0, 1, 0))):
        with Locations((-112, 57), (-112, -57), (112, -57), (112, 57)):
            CounterSinkHole(HOLE_WIZARD_5_0_5_4_D / 2, HOLE_WIZARD_5_0_5_4_CSINK_D / 2, counter_sink_angle=HOLE_WIZARD_5_0_5_4_CSINK_ANGLE)

    # Ø5.0 (5) 直径孔5 (through all)
    with Locations(Plane(origin=(0, 4, 0), x_dir=(1, 0, 0), z_dir=(0, 1, 0))):
        with Locations((-95.192123364, 57), (-41.370416483, 57), (-19.681071919, 57), (-19.681071919, 17.973880171), (-112, 17.973880171), (-112, -17.973880171), (-95.192123364, -57), (-41.370416483, -57), (-19.681071919, -57), (-19.681071919, -17.973880171), (16.869490216, 17.973880171), (16.869490216, -17.973880171), (16.869490216, 57), (38.55883478, 57), (92.380541661, 57), (109.188418297, 17.973880171), (109.188418297, -17.973880171), (92.380541661, -57), (38.55883478, -57), (16.869490216, -57)):
            CounterSinkHole(HOLE_WIZARD_5_0_5_5_D / 2, HOLE_WIZARD_5_0_5_5_CSINK_D / 2, counter_sink_angle=HOLE_WIZARD_5_0_5_5_CSINK_ANGLE)

    # 草图26 → 切除-拉伸5 (cut)
    with BuildSketch(Plane(origin=(0, 4, 0), x_dir=(1, 0, 0), z_dir=(0, 1, 0))):
        with Locations((-102.29021779, 30.941404151)):
            Rectangle(SKETCH_26_W, SKETCH_26_H)
        with Locations((-102.29021779, -30.941404151)):
            Rectangle(SKETCH_26_W, SKETCH_26_H)
        with Locations((99.478636087, -30.941404151)):
            Rectangle(SKETCH_26_W, SKETCH_26_H)
        with Locations((99.478636087, 30.941404151)):
            Rectangle(SKETCH_26_W, SKETCH_26_H)
    extrude(amount=-CUT_EXTRUDE_5_DEPTH, mode=Mode.SUBTRACT)

    # 草图22 → 切除-拉伸6 (cut)
    with BuildSketch(Plane(origin=(0, 4, 0), x_dir=(1, 0, 0), z_dir=(0, 1, 0))):
        with Locations(Location((-102.73836527, 0, 0), (0, 0, 270))):
            Circle(SKETCH_22_R)
        with Locations(Location((99.926783567, 0, 0), (0, 0, 90))):
            Circle(SKETCH_22_R)
    extrude(amount=-CUT_EXTRUDE_6_DEPTH, mode=Mode.SUBTRACT)


solid = part.part
